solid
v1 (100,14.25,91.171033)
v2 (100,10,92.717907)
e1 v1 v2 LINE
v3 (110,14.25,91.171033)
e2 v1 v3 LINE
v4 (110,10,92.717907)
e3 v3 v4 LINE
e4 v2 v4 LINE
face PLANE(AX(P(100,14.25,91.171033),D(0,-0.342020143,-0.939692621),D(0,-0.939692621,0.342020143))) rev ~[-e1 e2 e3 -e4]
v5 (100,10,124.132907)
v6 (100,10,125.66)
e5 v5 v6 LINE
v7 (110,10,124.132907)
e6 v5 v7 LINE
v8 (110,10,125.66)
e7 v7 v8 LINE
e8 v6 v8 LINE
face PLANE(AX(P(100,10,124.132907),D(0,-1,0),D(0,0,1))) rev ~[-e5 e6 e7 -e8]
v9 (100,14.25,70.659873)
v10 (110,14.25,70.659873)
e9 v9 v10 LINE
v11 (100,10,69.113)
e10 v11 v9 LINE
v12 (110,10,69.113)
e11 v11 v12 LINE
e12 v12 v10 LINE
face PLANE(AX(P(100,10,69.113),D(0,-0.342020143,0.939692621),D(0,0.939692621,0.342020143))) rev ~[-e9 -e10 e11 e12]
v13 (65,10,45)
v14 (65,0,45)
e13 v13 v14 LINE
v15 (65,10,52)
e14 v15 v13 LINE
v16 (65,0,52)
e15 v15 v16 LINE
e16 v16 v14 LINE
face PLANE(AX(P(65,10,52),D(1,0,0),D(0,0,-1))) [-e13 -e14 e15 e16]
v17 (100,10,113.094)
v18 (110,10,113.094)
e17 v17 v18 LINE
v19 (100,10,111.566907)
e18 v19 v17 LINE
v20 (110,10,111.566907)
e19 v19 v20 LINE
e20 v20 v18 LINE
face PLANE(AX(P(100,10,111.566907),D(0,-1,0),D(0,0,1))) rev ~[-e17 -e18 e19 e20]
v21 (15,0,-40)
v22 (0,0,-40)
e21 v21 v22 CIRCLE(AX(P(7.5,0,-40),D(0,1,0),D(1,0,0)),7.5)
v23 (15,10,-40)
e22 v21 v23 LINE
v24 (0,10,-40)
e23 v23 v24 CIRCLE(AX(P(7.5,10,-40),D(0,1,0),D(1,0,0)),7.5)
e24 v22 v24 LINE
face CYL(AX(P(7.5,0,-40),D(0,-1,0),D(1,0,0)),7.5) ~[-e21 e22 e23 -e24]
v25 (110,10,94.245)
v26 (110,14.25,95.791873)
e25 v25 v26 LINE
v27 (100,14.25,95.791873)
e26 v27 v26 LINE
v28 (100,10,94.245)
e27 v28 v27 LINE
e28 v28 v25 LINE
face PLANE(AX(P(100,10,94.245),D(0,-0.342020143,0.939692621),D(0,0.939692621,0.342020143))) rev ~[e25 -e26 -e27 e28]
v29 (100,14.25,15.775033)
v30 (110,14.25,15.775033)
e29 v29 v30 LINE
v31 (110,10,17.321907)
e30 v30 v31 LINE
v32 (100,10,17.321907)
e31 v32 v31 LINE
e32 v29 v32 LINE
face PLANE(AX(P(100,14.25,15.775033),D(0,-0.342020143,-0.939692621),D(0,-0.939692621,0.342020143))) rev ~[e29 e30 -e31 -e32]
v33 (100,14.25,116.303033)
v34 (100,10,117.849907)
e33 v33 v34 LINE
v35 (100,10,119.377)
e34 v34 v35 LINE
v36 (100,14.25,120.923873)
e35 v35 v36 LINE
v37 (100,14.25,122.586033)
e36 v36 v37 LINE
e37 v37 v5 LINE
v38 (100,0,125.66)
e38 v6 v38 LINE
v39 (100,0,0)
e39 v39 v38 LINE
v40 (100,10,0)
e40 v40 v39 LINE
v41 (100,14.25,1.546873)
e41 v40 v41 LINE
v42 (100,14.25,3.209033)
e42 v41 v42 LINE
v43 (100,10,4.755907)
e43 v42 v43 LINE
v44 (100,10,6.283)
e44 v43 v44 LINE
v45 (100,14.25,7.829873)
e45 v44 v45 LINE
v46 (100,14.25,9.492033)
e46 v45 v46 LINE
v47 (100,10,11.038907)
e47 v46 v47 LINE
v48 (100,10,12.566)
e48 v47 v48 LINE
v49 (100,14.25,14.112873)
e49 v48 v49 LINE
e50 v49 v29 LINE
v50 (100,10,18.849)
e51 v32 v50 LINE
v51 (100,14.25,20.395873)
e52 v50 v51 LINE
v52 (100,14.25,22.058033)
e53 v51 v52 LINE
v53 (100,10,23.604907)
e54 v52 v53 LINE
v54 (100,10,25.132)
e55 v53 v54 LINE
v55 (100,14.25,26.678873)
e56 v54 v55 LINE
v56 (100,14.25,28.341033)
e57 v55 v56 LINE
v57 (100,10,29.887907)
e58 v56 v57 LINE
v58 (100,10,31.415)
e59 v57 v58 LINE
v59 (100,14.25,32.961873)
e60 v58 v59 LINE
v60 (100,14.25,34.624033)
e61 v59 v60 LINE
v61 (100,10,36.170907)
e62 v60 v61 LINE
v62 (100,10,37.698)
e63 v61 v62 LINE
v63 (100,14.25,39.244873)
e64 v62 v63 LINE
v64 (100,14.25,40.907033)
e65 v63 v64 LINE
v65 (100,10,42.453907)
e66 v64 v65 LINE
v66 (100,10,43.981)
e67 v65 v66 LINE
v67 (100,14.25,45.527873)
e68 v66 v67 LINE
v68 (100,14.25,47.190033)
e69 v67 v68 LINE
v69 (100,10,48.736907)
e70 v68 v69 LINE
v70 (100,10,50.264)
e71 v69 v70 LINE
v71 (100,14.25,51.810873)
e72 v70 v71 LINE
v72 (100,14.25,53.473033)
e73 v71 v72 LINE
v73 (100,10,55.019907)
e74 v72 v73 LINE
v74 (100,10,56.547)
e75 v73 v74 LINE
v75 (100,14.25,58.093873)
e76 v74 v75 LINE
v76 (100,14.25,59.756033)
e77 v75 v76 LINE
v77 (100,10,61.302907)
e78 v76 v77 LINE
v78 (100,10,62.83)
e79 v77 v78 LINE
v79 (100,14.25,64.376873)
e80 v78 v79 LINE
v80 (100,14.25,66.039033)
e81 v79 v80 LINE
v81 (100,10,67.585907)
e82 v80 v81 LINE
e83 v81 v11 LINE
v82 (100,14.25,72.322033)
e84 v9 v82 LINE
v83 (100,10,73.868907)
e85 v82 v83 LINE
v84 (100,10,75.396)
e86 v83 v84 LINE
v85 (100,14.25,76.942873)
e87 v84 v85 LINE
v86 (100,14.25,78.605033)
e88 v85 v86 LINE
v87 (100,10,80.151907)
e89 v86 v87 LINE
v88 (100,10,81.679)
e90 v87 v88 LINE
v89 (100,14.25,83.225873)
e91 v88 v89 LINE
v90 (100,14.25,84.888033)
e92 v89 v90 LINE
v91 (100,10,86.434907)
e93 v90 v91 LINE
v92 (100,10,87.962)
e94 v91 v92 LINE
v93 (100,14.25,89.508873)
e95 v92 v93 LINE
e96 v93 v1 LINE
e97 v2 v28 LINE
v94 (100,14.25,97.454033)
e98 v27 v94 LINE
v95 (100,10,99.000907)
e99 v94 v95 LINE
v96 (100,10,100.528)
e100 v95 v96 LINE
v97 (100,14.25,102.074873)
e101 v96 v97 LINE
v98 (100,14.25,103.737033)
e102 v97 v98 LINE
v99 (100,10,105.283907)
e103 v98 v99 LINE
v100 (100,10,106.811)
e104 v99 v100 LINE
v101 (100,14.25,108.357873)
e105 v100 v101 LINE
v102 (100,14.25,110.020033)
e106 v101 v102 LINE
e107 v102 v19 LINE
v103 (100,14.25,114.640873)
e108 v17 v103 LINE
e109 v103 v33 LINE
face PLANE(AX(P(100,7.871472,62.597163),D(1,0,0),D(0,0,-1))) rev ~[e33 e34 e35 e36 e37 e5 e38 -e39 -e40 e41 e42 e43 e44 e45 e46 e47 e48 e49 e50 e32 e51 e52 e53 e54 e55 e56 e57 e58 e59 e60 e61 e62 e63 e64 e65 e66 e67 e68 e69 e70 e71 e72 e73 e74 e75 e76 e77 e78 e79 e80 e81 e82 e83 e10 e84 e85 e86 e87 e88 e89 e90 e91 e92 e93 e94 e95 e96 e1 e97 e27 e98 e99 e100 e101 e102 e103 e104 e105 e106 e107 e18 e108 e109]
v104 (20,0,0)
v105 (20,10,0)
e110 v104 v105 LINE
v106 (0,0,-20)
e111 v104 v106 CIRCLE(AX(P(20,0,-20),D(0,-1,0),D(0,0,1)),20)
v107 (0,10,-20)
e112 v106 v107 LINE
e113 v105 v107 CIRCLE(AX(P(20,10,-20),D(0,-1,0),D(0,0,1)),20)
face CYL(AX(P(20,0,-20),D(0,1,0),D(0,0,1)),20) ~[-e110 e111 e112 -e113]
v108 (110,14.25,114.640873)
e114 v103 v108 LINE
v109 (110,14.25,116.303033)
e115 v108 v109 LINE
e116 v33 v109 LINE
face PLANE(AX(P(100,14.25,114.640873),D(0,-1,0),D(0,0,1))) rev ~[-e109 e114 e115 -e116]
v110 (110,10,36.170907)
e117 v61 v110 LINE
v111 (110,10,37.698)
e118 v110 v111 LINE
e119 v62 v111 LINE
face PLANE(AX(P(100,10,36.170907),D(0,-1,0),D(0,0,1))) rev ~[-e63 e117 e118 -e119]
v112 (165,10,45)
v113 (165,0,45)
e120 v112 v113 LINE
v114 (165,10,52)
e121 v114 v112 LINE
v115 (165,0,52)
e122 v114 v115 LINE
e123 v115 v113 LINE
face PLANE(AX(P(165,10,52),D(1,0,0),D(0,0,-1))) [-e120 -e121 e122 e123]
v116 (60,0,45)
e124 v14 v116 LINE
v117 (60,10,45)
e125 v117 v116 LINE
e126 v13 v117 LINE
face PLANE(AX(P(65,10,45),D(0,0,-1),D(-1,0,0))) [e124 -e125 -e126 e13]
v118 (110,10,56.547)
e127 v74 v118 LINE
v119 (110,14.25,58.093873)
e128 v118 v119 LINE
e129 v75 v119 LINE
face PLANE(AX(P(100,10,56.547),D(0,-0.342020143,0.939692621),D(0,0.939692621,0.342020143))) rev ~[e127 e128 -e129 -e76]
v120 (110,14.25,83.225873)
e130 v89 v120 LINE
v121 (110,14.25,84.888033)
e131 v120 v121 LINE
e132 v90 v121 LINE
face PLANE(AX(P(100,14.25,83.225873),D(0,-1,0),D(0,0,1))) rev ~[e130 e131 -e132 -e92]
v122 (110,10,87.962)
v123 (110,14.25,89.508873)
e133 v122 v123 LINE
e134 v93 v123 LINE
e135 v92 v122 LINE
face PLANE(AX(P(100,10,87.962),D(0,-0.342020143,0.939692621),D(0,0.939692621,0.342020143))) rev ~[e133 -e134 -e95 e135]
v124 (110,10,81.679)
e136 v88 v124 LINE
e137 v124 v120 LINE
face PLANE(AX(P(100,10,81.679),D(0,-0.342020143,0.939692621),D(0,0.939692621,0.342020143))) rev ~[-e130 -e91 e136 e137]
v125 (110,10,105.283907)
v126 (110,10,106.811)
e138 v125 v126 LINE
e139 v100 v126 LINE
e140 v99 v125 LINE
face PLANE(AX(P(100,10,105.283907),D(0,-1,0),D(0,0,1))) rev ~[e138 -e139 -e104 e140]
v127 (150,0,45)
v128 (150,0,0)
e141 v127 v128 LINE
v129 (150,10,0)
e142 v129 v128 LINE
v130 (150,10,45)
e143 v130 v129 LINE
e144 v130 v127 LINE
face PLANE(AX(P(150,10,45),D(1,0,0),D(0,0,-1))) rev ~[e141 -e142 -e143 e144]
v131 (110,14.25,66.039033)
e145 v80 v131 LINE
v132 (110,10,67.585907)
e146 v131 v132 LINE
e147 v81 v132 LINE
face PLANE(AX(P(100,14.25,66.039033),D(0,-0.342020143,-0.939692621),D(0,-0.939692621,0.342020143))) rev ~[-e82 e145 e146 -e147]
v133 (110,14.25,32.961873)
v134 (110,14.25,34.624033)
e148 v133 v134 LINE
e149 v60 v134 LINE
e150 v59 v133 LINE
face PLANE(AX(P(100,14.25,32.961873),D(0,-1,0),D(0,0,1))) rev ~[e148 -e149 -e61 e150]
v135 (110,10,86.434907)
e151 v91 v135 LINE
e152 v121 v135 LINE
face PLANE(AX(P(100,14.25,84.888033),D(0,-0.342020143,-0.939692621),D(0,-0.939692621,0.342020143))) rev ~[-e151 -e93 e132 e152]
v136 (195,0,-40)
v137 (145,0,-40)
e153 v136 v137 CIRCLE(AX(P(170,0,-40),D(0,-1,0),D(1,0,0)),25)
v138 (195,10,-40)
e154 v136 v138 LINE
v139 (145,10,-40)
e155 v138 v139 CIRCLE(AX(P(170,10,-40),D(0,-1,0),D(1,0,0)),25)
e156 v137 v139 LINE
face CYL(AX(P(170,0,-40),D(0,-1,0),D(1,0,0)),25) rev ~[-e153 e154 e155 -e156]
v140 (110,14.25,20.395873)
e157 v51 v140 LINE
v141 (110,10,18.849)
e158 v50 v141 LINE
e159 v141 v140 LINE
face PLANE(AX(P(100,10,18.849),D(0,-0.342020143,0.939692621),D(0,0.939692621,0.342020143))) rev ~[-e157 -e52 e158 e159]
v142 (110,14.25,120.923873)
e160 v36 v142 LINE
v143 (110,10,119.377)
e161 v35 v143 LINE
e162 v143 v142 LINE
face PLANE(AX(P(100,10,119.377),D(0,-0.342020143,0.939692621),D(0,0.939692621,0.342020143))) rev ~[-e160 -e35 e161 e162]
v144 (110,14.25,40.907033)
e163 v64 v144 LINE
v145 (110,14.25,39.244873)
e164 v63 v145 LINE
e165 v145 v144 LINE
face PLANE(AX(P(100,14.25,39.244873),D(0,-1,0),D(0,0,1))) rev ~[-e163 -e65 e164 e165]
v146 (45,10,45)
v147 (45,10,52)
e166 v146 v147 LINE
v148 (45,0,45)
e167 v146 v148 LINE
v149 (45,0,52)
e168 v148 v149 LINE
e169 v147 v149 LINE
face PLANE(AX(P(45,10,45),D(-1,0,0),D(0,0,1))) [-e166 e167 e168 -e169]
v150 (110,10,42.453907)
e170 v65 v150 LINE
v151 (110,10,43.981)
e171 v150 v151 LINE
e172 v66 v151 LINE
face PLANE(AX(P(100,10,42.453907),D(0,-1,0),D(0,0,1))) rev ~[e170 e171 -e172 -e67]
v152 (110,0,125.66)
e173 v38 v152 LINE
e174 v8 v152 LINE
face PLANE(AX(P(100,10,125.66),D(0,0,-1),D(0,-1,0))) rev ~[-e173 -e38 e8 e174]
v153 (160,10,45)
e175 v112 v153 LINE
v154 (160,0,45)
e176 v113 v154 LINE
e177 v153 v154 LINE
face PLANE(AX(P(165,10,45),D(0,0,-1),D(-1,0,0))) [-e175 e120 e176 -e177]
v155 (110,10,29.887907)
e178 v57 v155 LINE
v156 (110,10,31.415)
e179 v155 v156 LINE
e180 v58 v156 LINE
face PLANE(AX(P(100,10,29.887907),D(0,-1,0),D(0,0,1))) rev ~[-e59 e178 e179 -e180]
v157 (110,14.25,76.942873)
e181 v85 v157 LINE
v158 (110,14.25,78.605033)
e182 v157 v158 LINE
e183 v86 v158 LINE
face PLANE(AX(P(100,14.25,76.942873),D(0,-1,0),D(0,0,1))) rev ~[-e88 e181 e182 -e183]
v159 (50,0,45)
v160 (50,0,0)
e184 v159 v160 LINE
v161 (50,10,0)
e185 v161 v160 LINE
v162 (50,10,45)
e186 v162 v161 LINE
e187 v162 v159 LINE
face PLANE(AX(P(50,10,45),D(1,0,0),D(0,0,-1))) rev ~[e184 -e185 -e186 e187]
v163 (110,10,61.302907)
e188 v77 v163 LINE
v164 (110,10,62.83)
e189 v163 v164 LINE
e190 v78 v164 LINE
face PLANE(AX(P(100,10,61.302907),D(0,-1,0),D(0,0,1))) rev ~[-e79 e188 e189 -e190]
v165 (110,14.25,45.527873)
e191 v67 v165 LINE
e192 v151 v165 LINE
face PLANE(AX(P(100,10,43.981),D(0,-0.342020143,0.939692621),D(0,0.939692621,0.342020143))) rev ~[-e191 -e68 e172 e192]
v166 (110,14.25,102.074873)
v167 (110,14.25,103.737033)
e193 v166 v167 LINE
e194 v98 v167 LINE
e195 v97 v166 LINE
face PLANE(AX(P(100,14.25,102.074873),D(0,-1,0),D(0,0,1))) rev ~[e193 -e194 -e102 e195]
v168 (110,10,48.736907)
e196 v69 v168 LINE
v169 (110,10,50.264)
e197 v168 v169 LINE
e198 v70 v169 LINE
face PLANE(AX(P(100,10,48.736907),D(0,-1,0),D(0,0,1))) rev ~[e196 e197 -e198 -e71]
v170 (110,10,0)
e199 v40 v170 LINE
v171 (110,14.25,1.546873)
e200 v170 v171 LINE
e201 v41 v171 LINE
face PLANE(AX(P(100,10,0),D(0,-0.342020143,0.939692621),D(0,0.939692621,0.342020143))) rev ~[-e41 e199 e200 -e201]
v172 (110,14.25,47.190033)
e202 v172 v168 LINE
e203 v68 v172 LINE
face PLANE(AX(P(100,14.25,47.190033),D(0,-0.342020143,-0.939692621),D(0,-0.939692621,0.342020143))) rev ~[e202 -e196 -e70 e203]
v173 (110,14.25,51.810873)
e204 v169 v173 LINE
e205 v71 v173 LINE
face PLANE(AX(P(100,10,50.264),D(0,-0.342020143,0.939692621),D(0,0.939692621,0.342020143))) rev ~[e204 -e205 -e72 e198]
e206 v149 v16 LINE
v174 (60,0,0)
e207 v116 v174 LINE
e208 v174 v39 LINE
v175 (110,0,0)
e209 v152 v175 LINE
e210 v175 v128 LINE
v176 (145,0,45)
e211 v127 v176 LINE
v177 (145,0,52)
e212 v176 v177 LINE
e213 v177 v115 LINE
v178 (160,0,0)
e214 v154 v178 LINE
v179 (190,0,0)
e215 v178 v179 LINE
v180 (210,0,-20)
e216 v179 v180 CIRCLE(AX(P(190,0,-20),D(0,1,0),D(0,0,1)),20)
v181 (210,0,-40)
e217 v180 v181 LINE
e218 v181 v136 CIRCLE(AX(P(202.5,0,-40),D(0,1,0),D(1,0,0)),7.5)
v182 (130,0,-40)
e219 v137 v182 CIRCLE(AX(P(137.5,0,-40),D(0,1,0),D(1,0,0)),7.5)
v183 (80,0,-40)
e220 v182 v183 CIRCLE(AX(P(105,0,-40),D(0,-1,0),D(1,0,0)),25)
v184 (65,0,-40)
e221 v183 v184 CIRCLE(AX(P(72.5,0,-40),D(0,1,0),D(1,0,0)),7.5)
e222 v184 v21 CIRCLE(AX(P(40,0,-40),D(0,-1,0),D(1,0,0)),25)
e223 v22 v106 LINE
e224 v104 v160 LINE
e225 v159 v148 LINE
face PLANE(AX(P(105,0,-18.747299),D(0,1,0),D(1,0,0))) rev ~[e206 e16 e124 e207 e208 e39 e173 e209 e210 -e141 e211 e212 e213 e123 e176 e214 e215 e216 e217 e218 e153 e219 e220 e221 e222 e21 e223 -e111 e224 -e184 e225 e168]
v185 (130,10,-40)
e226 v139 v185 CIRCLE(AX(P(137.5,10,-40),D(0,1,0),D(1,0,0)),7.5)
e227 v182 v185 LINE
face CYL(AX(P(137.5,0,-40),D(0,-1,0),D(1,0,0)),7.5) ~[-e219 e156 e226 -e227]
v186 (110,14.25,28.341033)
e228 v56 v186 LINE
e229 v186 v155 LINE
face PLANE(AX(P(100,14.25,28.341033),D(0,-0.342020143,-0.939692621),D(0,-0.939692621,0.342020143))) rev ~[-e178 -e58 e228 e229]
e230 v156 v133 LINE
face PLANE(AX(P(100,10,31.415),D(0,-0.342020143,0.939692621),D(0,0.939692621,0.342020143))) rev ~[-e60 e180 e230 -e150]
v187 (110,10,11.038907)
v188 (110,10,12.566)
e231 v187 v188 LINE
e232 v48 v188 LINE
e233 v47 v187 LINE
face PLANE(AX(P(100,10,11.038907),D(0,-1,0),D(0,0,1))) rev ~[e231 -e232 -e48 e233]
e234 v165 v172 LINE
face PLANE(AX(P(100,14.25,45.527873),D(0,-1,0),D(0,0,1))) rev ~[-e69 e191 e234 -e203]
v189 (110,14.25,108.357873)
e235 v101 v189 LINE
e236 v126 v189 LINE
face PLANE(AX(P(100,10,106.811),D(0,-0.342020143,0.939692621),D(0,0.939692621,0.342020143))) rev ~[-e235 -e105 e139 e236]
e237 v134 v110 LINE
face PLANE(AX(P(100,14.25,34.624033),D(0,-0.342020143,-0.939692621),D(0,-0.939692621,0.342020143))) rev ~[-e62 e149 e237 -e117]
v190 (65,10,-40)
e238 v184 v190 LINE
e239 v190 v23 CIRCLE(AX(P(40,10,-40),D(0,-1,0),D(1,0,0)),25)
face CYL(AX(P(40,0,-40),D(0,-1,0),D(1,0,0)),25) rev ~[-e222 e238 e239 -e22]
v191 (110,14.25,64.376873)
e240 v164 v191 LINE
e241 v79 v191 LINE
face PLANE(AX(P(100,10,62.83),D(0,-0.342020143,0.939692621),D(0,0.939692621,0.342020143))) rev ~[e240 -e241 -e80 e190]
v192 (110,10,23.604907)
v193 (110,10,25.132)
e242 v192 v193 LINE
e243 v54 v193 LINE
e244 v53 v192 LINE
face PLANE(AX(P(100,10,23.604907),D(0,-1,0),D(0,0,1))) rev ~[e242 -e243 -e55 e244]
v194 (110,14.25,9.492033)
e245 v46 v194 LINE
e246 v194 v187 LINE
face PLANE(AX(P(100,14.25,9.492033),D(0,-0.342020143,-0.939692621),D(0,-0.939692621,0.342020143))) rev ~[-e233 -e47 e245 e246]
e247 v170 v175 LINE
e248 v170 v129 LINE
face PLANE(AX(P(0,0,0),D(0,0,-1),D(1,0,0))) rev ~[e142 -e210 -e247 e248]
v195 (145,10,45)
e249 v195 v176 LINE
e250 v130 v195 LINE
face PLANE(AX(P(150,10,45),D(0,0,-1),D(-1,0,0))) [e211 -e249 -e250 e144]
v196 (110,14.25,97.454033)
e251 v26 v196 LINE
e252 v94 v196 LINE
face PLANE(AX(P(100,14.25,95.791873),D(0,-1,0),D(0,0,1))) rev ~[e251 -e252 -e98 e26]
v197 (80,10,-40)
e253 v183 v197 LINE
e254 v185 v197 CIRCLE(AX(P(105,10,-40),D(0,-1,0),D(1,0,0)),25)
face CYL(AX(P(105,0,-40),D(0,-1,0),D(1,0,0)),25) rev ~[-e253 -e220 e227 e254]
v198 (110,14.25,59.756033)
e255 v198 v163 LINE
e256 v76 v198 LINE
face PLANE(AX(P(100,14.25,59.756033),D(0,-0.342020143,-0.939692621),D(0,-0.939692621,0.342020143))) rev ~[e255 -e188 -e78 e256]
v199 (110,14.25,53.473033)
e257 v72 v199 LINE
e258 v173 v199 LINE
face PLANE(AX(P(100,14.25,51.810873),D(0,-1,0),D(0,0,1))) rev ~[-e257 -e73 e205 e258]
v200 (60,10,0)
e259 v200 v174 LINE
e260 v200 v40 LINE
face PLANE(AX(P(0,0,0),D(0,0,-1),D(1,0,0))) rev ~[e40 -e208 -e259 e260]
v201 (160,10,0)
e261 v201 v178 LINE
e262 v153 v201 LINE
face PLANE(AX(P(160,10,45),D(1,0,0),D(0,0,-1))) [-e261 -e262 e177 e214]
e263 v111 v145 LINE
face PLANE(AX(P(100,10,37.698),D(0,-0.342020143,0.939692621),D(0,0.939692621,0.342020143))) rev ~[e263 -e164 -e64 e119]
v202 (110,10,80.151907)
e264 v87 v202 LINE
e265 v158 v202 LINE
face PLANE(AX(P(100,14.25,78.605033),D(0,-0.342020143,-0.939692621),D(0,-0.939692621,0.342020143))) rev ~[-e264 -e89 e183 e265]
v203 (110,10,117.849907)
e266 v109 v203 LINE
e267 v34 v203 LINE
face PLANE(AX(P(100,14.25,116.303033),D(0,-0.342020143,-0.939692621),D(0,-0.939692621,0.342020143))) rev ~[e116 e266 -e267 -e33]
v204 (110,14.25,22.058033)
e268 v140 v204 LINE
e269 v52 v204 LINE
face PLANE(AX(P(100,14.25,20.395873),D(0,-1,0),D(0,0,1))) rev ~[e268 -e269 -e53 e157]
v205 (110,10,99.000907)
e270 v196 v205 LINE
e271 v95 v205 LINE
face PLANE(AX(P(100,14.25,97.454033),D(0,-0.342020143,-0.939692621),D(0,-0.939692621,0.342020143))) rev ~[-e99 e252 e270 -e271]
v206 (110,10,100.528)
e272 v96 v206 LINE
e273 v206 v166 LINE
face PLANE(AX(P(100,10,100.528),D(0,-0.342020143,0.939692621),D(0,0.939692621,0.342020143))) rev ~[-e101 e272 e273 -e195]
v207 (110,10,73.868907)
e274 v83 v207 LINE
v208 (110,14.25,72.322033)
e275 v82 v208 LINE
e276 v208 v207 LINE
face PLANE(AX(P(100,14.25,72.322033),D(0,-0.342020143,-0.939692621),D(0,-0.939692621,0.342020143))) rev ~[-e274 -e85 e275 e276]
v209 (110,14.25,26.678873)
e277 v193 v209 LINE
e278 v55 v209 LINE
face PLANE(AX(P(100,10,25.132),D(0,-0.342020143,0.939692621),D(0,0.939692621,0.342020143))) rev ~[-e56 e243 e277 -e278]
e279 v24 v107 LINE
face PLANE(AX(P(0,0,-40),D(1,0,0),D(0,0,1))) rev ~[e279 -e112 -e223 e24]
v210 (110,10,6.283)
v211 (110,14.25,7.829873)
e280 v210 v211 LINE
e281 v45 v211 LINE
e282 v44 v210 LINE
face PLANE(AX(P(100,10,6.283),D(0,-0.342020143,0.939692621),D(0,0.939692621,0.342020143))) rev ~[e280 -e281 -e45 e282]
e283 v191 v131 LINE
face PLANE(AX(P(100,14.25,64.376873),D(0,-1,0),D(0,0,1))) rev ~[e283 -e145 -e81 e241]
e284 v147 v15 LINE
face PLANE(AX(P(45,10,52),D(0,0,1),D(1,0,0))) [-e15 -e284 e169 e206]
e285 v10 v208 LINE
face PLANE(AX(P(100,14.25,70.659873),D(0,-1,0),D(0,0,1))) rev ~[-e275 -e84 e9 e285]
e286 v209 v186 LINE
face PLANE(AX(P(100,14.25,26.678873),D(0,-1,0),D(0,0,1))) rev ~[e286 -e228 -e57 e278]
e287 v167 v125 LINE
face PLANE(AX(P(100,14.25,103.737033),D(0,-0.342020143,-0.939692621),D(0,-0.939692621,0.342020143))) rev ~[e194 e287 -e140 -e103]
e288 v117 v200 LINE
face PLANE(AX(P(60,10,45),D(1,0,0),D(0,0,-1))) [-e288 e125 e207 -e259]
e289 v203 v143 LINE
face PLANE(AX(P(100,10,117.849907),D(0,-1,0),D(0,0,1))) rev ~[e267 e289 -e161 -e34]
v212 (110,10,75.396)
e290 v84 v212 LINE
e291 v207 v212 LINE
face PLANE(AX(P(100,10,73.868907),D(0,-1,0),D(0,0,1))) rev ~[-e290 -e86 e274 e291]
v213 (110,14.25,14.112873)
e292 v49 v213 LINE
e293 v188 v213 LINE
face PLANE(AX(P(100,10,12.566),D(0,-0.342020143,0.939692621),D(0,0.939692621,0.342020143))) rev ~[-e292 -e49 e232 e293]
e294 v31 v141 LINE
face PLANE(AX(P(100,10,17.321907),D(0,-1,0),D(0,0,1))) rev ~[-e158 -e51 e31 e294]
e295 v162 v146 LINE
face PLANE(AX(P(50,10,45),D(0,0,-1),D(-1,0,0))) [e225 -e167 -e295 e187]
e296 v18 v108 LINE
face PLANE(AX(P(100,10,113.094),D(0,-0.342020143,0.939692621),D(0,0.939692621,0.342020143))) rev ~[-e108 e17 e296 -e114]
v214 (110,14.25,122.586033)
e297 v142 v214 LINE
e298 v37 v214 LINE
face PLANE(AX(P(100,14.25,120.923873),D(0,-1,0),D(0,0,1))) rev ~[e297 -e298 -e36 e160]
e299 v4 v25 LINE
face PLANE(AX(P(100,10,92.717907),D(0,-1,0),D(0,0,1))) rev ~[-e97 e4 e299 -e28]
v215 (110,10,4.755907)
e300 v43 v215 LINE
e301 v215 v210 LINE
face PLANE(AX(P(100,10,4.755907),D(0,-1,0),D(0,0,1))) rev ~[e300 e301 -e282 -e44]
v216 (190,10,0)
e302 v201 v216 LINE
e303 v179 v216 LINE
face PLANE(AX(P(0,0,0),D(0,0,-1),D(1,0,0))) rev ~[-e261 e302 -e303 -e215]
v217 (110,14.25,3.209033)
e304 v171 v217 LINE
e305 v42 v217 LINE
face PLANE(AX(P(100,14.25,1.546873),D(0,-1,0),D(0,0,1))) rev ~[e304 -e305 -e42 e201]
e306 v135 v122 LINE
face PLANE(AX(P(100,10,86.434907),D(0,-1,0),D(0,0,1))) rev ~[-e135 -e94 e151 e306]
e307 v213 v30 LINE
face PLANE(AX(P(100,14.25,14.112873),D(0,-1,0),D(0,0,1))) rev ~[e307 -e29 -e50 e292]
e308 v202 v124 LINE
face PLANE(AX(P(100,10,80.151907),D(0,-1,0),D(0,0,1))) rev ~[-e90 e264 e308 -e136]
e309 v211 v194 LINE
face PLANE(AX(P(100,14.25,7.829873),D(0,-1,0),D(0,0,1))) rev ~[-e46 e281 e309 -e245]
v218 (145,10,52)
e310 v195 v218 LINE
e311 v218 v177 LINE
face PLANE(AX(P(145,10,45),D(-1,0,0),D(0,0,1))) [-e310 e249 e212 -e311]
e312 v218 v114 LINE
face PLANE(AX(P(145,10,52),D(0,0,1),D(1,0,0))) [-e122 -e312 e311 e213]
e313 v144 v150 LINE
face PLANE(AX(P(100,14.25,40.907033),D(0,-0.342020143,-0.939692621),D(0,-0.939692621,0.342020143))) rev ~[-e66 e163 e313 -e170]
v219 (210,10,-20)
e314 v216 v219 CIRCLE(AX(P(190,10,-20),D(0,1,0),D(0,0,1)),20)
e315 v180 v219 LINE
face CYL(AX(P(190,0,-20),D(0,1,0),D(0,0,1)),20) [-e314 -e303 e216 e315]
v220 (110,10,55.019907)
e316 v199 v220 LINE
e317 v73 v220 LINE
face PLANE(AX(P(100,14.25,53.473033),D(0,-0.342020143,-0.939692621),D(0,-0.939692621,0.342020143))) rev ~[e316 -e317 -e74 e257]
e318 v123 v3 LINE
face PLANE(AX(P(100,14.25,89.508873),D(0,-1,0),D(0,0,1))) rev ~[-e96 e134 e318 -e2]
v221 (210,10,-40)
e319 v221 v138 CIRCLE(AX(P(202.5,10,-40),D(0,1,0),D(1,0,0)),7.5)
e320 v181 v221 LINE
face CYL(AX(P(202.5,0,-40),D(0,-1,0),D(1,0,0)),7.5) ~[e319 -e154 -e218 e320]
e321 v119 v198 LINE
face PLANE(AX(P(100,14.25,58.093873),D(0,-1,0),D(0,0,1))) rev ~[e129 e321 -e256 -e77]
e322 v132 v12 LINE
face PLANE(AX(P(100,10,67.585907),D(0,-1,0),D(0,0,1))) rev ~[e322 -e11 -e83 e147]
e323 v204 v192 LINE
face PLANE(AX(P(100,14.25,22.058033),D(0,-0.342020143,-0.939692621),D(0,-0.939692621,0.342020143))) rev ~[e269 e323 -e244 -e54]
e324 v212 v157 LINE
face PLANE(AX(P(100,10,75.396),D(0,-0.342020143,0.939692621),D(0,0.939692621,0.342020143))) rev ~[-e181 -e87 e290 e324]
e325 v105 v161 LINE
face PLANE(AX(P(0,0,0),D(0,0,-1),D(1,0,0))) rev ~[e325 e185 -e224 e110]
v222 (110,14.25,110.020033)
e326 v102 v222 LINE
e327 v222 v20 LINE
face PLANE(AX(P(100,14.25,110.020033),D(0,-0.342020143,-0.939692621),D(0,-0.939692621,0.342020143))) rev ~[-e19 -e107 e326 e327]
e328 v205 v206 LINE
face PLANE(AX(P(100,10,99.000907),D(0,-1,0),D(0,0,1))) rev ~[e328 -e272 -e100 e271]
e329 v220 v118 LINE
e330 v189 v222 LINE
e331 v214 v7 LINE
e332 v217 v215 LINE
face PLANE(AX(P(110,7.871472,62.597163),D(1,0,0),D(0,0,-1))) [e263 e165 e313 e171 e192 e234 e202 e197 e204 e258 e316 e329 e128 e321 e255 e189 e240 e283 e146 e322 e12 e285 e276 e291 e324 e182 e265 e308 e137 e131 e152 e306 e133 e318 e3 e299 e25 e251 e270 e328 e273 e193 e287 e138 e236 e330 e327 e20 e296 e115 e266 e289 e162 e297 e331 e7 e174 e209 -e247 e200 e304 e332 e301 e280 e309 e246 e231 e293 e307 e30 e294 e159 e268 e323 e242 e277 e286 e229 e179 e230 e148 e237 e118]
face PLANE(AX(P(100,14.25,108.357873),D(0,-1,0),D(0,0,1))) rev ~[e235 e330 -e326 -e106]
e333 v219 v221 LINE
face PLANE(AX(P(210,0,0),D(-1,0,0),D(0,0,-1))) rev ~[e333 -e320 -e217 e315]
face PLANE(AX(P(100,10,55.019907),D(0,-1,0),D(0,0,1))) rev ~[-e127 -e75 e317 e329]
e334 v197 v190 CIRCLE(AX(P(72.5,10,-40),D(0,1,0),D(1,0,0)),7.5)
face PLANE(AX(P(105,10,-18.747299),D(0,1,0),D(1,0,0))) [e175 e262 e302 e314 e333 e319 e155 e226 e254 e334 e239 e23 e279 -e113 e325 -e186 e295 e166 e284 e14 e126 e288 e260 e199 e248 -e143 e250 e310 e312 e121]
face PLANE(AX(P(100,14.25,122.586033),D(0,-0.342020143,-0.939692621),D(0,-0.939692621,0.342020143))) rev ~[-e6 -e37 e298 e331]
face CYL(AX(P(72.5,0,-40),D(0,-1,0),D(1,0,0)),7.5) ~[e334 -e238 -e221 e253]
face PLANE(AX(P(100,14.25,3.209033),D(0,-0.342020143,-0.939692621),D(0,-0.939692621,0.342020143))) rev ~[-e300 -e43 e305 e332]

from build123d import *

# Parameters (mm, degrees)
BOSS_EXTRU_1_DEPTH = 10
ESQUISSE2_W        = 10
ESQUISSE2_H        = 45
BOSS_EXTRU_2_DEPTH = 10
CONG_1_R           = 20
BOSS_EXTRU_3_DEPTH = 10


with BuildPart() as part:
    # Esquisse1 → Boss.-Extru.1 (new body)
    with BuildSketch(Plane(origin=(0, 0, 0), x_dir=(1, 0, 0), z_dir=(0, 1, 0))):
        with BuildLine():
            Line((0, 0), (210, 0))
            Line((210, 0), (210, 40))
            ThreePointArc((210, 40), (202.5, 47.5), (195, 40))
            ThreePointArc((195, 40), (170, 15), (145, 40))
            ThreePointArc((145, 40), (137.5, 47.5), (130, 40))
            ThreePointArc((130, 40), (105, 15), (80, 40))
            ThreePointArc((80, 40), (72.5, 47.5), (65, 40))
            ThreePointArc((65, 40), (40, 15), (15, 40))
            ThreePointArc((15, 40), (7.5, 47.5), (0, 40))
            Line((0, 40), (0, 0))
        make_face()
    extrude(amount=BOSS_EXTRU_1_DEPTH)

    # Esquisse2 → Boss.-Extru.2 (add)
    with BuildSketch(Plane(origin=(0, 10, 0), x_dir=(1, 0, 0), z_dir=(0, 1, 0))):
        Polygon((60, -45), (50, -45), (45, -45), (45, -52), (65, -52), (65, -45), align=None)
        with Locations((55, -22.5)):
            Rectangle(ESQUISSE2_W, ESQUISSE2_H)
        with Locations((105, -22.5)):
            Rectangle(ESQUISSE2_W, ESQUISSE2_H)
        with Locations((155, -22.5)):
            Rectangle(ESQUISSE2_W, ESQUISSE2_H)
        Polygon((160, -45), (150, -45), (145, -45), (145, -52), (165, -52), (165, -45), align=None)
    extrude(amount=-BOSS_EXTRU_2_DEPTH)

    # Congé1
    cong_1_edges = [part.edges().sort_by_distance(p)[0] for p in [
        (210, 5, 0),
        (0, 5, 0),
    ]]
    fillet(cong_1_edges, radius=CONG_1_R)

    # Esquisse3 → Boss.-Extru.3 (add)
    with BuildSketch(Plane.ZY.offset(-100)):
        Polygon((3.209033432, 14.25), (4.755906928, 10), (6.283, 10), (7.829873496, 14.25), (9.492033432, 14.25), (11.038906928, 10), (12.566, 10), (14.112873496, 14.25), (15.775033432, 14.25), (17.321906928, 10), (18.849, 10), (20.395873496, 14.25), (22.058033432, 14.25), (23.604906928, 10), (25.132, 10), (26.678873496, 14.25), (28.341033432, 14.25), (29.887906928, 10), (31.415, 10), (32.961873496, 14.25), (34.624033432, 14.25), (36.170906928, 10), (37.698, 10), (39.244873496, 14.25), (40.907033432, 14.25), (42.453906928, 10), (43.981, 10), (45.527873496, 14.25), (47.190033432, 14.25), (48.736906928, 10), (50.264, 10), (51.810873496, 14.25), (53.473033432, 14.25), (55.019906928, 10), (56.547, 10), (58.093873496, 14.25), (59.756033432, 14.25), (61.302906928, 10), (62.83, 10), (64.376873496, 14.25), (66.039033432, 14.25), (67.585906928, 10), (69.113, 10), (70.659873496, 14.25), (72.322033432, 14.25), (73.868906928, 10), (75.396, 10), (76.942873496, 14.25), (78.605033432, 14.25), (80.151906928, 10), (81.679, 10), (83.225873496, 14.25), (84.888033432, 14.25), (86.434906928, 10), (87.962, 10), (89.508873496, 14.25), (91.171033432, 14.25), (92.717906928, 10), (94.245, 10), (95.791873496, 14.25), (97.454033432, 14.25), (99.000906928, 10), (100.528, 10), (102.074873496, 14.25), (103.737033432, 14.25), (105.283906928, 10), (106.811, 10), (108.357873496, 14.25), (110.020033432, 14.25), (111.566906928, 10), (113.094, 10), (114.640873496, 14.25), (116.303033432, 14.25), (117.849906928, 10), (119.377, 10), (120.923873496, 14.25), (122.586033432, 14.25), (124.132906928, 10), (125.66, 10), (125.66, 0), (0, 0), (0, 10), (1.546873496, 14.25), align=None)
    extrude(amount=-BOSS_EXTRU_3_DEPTH)


solid = part.part
